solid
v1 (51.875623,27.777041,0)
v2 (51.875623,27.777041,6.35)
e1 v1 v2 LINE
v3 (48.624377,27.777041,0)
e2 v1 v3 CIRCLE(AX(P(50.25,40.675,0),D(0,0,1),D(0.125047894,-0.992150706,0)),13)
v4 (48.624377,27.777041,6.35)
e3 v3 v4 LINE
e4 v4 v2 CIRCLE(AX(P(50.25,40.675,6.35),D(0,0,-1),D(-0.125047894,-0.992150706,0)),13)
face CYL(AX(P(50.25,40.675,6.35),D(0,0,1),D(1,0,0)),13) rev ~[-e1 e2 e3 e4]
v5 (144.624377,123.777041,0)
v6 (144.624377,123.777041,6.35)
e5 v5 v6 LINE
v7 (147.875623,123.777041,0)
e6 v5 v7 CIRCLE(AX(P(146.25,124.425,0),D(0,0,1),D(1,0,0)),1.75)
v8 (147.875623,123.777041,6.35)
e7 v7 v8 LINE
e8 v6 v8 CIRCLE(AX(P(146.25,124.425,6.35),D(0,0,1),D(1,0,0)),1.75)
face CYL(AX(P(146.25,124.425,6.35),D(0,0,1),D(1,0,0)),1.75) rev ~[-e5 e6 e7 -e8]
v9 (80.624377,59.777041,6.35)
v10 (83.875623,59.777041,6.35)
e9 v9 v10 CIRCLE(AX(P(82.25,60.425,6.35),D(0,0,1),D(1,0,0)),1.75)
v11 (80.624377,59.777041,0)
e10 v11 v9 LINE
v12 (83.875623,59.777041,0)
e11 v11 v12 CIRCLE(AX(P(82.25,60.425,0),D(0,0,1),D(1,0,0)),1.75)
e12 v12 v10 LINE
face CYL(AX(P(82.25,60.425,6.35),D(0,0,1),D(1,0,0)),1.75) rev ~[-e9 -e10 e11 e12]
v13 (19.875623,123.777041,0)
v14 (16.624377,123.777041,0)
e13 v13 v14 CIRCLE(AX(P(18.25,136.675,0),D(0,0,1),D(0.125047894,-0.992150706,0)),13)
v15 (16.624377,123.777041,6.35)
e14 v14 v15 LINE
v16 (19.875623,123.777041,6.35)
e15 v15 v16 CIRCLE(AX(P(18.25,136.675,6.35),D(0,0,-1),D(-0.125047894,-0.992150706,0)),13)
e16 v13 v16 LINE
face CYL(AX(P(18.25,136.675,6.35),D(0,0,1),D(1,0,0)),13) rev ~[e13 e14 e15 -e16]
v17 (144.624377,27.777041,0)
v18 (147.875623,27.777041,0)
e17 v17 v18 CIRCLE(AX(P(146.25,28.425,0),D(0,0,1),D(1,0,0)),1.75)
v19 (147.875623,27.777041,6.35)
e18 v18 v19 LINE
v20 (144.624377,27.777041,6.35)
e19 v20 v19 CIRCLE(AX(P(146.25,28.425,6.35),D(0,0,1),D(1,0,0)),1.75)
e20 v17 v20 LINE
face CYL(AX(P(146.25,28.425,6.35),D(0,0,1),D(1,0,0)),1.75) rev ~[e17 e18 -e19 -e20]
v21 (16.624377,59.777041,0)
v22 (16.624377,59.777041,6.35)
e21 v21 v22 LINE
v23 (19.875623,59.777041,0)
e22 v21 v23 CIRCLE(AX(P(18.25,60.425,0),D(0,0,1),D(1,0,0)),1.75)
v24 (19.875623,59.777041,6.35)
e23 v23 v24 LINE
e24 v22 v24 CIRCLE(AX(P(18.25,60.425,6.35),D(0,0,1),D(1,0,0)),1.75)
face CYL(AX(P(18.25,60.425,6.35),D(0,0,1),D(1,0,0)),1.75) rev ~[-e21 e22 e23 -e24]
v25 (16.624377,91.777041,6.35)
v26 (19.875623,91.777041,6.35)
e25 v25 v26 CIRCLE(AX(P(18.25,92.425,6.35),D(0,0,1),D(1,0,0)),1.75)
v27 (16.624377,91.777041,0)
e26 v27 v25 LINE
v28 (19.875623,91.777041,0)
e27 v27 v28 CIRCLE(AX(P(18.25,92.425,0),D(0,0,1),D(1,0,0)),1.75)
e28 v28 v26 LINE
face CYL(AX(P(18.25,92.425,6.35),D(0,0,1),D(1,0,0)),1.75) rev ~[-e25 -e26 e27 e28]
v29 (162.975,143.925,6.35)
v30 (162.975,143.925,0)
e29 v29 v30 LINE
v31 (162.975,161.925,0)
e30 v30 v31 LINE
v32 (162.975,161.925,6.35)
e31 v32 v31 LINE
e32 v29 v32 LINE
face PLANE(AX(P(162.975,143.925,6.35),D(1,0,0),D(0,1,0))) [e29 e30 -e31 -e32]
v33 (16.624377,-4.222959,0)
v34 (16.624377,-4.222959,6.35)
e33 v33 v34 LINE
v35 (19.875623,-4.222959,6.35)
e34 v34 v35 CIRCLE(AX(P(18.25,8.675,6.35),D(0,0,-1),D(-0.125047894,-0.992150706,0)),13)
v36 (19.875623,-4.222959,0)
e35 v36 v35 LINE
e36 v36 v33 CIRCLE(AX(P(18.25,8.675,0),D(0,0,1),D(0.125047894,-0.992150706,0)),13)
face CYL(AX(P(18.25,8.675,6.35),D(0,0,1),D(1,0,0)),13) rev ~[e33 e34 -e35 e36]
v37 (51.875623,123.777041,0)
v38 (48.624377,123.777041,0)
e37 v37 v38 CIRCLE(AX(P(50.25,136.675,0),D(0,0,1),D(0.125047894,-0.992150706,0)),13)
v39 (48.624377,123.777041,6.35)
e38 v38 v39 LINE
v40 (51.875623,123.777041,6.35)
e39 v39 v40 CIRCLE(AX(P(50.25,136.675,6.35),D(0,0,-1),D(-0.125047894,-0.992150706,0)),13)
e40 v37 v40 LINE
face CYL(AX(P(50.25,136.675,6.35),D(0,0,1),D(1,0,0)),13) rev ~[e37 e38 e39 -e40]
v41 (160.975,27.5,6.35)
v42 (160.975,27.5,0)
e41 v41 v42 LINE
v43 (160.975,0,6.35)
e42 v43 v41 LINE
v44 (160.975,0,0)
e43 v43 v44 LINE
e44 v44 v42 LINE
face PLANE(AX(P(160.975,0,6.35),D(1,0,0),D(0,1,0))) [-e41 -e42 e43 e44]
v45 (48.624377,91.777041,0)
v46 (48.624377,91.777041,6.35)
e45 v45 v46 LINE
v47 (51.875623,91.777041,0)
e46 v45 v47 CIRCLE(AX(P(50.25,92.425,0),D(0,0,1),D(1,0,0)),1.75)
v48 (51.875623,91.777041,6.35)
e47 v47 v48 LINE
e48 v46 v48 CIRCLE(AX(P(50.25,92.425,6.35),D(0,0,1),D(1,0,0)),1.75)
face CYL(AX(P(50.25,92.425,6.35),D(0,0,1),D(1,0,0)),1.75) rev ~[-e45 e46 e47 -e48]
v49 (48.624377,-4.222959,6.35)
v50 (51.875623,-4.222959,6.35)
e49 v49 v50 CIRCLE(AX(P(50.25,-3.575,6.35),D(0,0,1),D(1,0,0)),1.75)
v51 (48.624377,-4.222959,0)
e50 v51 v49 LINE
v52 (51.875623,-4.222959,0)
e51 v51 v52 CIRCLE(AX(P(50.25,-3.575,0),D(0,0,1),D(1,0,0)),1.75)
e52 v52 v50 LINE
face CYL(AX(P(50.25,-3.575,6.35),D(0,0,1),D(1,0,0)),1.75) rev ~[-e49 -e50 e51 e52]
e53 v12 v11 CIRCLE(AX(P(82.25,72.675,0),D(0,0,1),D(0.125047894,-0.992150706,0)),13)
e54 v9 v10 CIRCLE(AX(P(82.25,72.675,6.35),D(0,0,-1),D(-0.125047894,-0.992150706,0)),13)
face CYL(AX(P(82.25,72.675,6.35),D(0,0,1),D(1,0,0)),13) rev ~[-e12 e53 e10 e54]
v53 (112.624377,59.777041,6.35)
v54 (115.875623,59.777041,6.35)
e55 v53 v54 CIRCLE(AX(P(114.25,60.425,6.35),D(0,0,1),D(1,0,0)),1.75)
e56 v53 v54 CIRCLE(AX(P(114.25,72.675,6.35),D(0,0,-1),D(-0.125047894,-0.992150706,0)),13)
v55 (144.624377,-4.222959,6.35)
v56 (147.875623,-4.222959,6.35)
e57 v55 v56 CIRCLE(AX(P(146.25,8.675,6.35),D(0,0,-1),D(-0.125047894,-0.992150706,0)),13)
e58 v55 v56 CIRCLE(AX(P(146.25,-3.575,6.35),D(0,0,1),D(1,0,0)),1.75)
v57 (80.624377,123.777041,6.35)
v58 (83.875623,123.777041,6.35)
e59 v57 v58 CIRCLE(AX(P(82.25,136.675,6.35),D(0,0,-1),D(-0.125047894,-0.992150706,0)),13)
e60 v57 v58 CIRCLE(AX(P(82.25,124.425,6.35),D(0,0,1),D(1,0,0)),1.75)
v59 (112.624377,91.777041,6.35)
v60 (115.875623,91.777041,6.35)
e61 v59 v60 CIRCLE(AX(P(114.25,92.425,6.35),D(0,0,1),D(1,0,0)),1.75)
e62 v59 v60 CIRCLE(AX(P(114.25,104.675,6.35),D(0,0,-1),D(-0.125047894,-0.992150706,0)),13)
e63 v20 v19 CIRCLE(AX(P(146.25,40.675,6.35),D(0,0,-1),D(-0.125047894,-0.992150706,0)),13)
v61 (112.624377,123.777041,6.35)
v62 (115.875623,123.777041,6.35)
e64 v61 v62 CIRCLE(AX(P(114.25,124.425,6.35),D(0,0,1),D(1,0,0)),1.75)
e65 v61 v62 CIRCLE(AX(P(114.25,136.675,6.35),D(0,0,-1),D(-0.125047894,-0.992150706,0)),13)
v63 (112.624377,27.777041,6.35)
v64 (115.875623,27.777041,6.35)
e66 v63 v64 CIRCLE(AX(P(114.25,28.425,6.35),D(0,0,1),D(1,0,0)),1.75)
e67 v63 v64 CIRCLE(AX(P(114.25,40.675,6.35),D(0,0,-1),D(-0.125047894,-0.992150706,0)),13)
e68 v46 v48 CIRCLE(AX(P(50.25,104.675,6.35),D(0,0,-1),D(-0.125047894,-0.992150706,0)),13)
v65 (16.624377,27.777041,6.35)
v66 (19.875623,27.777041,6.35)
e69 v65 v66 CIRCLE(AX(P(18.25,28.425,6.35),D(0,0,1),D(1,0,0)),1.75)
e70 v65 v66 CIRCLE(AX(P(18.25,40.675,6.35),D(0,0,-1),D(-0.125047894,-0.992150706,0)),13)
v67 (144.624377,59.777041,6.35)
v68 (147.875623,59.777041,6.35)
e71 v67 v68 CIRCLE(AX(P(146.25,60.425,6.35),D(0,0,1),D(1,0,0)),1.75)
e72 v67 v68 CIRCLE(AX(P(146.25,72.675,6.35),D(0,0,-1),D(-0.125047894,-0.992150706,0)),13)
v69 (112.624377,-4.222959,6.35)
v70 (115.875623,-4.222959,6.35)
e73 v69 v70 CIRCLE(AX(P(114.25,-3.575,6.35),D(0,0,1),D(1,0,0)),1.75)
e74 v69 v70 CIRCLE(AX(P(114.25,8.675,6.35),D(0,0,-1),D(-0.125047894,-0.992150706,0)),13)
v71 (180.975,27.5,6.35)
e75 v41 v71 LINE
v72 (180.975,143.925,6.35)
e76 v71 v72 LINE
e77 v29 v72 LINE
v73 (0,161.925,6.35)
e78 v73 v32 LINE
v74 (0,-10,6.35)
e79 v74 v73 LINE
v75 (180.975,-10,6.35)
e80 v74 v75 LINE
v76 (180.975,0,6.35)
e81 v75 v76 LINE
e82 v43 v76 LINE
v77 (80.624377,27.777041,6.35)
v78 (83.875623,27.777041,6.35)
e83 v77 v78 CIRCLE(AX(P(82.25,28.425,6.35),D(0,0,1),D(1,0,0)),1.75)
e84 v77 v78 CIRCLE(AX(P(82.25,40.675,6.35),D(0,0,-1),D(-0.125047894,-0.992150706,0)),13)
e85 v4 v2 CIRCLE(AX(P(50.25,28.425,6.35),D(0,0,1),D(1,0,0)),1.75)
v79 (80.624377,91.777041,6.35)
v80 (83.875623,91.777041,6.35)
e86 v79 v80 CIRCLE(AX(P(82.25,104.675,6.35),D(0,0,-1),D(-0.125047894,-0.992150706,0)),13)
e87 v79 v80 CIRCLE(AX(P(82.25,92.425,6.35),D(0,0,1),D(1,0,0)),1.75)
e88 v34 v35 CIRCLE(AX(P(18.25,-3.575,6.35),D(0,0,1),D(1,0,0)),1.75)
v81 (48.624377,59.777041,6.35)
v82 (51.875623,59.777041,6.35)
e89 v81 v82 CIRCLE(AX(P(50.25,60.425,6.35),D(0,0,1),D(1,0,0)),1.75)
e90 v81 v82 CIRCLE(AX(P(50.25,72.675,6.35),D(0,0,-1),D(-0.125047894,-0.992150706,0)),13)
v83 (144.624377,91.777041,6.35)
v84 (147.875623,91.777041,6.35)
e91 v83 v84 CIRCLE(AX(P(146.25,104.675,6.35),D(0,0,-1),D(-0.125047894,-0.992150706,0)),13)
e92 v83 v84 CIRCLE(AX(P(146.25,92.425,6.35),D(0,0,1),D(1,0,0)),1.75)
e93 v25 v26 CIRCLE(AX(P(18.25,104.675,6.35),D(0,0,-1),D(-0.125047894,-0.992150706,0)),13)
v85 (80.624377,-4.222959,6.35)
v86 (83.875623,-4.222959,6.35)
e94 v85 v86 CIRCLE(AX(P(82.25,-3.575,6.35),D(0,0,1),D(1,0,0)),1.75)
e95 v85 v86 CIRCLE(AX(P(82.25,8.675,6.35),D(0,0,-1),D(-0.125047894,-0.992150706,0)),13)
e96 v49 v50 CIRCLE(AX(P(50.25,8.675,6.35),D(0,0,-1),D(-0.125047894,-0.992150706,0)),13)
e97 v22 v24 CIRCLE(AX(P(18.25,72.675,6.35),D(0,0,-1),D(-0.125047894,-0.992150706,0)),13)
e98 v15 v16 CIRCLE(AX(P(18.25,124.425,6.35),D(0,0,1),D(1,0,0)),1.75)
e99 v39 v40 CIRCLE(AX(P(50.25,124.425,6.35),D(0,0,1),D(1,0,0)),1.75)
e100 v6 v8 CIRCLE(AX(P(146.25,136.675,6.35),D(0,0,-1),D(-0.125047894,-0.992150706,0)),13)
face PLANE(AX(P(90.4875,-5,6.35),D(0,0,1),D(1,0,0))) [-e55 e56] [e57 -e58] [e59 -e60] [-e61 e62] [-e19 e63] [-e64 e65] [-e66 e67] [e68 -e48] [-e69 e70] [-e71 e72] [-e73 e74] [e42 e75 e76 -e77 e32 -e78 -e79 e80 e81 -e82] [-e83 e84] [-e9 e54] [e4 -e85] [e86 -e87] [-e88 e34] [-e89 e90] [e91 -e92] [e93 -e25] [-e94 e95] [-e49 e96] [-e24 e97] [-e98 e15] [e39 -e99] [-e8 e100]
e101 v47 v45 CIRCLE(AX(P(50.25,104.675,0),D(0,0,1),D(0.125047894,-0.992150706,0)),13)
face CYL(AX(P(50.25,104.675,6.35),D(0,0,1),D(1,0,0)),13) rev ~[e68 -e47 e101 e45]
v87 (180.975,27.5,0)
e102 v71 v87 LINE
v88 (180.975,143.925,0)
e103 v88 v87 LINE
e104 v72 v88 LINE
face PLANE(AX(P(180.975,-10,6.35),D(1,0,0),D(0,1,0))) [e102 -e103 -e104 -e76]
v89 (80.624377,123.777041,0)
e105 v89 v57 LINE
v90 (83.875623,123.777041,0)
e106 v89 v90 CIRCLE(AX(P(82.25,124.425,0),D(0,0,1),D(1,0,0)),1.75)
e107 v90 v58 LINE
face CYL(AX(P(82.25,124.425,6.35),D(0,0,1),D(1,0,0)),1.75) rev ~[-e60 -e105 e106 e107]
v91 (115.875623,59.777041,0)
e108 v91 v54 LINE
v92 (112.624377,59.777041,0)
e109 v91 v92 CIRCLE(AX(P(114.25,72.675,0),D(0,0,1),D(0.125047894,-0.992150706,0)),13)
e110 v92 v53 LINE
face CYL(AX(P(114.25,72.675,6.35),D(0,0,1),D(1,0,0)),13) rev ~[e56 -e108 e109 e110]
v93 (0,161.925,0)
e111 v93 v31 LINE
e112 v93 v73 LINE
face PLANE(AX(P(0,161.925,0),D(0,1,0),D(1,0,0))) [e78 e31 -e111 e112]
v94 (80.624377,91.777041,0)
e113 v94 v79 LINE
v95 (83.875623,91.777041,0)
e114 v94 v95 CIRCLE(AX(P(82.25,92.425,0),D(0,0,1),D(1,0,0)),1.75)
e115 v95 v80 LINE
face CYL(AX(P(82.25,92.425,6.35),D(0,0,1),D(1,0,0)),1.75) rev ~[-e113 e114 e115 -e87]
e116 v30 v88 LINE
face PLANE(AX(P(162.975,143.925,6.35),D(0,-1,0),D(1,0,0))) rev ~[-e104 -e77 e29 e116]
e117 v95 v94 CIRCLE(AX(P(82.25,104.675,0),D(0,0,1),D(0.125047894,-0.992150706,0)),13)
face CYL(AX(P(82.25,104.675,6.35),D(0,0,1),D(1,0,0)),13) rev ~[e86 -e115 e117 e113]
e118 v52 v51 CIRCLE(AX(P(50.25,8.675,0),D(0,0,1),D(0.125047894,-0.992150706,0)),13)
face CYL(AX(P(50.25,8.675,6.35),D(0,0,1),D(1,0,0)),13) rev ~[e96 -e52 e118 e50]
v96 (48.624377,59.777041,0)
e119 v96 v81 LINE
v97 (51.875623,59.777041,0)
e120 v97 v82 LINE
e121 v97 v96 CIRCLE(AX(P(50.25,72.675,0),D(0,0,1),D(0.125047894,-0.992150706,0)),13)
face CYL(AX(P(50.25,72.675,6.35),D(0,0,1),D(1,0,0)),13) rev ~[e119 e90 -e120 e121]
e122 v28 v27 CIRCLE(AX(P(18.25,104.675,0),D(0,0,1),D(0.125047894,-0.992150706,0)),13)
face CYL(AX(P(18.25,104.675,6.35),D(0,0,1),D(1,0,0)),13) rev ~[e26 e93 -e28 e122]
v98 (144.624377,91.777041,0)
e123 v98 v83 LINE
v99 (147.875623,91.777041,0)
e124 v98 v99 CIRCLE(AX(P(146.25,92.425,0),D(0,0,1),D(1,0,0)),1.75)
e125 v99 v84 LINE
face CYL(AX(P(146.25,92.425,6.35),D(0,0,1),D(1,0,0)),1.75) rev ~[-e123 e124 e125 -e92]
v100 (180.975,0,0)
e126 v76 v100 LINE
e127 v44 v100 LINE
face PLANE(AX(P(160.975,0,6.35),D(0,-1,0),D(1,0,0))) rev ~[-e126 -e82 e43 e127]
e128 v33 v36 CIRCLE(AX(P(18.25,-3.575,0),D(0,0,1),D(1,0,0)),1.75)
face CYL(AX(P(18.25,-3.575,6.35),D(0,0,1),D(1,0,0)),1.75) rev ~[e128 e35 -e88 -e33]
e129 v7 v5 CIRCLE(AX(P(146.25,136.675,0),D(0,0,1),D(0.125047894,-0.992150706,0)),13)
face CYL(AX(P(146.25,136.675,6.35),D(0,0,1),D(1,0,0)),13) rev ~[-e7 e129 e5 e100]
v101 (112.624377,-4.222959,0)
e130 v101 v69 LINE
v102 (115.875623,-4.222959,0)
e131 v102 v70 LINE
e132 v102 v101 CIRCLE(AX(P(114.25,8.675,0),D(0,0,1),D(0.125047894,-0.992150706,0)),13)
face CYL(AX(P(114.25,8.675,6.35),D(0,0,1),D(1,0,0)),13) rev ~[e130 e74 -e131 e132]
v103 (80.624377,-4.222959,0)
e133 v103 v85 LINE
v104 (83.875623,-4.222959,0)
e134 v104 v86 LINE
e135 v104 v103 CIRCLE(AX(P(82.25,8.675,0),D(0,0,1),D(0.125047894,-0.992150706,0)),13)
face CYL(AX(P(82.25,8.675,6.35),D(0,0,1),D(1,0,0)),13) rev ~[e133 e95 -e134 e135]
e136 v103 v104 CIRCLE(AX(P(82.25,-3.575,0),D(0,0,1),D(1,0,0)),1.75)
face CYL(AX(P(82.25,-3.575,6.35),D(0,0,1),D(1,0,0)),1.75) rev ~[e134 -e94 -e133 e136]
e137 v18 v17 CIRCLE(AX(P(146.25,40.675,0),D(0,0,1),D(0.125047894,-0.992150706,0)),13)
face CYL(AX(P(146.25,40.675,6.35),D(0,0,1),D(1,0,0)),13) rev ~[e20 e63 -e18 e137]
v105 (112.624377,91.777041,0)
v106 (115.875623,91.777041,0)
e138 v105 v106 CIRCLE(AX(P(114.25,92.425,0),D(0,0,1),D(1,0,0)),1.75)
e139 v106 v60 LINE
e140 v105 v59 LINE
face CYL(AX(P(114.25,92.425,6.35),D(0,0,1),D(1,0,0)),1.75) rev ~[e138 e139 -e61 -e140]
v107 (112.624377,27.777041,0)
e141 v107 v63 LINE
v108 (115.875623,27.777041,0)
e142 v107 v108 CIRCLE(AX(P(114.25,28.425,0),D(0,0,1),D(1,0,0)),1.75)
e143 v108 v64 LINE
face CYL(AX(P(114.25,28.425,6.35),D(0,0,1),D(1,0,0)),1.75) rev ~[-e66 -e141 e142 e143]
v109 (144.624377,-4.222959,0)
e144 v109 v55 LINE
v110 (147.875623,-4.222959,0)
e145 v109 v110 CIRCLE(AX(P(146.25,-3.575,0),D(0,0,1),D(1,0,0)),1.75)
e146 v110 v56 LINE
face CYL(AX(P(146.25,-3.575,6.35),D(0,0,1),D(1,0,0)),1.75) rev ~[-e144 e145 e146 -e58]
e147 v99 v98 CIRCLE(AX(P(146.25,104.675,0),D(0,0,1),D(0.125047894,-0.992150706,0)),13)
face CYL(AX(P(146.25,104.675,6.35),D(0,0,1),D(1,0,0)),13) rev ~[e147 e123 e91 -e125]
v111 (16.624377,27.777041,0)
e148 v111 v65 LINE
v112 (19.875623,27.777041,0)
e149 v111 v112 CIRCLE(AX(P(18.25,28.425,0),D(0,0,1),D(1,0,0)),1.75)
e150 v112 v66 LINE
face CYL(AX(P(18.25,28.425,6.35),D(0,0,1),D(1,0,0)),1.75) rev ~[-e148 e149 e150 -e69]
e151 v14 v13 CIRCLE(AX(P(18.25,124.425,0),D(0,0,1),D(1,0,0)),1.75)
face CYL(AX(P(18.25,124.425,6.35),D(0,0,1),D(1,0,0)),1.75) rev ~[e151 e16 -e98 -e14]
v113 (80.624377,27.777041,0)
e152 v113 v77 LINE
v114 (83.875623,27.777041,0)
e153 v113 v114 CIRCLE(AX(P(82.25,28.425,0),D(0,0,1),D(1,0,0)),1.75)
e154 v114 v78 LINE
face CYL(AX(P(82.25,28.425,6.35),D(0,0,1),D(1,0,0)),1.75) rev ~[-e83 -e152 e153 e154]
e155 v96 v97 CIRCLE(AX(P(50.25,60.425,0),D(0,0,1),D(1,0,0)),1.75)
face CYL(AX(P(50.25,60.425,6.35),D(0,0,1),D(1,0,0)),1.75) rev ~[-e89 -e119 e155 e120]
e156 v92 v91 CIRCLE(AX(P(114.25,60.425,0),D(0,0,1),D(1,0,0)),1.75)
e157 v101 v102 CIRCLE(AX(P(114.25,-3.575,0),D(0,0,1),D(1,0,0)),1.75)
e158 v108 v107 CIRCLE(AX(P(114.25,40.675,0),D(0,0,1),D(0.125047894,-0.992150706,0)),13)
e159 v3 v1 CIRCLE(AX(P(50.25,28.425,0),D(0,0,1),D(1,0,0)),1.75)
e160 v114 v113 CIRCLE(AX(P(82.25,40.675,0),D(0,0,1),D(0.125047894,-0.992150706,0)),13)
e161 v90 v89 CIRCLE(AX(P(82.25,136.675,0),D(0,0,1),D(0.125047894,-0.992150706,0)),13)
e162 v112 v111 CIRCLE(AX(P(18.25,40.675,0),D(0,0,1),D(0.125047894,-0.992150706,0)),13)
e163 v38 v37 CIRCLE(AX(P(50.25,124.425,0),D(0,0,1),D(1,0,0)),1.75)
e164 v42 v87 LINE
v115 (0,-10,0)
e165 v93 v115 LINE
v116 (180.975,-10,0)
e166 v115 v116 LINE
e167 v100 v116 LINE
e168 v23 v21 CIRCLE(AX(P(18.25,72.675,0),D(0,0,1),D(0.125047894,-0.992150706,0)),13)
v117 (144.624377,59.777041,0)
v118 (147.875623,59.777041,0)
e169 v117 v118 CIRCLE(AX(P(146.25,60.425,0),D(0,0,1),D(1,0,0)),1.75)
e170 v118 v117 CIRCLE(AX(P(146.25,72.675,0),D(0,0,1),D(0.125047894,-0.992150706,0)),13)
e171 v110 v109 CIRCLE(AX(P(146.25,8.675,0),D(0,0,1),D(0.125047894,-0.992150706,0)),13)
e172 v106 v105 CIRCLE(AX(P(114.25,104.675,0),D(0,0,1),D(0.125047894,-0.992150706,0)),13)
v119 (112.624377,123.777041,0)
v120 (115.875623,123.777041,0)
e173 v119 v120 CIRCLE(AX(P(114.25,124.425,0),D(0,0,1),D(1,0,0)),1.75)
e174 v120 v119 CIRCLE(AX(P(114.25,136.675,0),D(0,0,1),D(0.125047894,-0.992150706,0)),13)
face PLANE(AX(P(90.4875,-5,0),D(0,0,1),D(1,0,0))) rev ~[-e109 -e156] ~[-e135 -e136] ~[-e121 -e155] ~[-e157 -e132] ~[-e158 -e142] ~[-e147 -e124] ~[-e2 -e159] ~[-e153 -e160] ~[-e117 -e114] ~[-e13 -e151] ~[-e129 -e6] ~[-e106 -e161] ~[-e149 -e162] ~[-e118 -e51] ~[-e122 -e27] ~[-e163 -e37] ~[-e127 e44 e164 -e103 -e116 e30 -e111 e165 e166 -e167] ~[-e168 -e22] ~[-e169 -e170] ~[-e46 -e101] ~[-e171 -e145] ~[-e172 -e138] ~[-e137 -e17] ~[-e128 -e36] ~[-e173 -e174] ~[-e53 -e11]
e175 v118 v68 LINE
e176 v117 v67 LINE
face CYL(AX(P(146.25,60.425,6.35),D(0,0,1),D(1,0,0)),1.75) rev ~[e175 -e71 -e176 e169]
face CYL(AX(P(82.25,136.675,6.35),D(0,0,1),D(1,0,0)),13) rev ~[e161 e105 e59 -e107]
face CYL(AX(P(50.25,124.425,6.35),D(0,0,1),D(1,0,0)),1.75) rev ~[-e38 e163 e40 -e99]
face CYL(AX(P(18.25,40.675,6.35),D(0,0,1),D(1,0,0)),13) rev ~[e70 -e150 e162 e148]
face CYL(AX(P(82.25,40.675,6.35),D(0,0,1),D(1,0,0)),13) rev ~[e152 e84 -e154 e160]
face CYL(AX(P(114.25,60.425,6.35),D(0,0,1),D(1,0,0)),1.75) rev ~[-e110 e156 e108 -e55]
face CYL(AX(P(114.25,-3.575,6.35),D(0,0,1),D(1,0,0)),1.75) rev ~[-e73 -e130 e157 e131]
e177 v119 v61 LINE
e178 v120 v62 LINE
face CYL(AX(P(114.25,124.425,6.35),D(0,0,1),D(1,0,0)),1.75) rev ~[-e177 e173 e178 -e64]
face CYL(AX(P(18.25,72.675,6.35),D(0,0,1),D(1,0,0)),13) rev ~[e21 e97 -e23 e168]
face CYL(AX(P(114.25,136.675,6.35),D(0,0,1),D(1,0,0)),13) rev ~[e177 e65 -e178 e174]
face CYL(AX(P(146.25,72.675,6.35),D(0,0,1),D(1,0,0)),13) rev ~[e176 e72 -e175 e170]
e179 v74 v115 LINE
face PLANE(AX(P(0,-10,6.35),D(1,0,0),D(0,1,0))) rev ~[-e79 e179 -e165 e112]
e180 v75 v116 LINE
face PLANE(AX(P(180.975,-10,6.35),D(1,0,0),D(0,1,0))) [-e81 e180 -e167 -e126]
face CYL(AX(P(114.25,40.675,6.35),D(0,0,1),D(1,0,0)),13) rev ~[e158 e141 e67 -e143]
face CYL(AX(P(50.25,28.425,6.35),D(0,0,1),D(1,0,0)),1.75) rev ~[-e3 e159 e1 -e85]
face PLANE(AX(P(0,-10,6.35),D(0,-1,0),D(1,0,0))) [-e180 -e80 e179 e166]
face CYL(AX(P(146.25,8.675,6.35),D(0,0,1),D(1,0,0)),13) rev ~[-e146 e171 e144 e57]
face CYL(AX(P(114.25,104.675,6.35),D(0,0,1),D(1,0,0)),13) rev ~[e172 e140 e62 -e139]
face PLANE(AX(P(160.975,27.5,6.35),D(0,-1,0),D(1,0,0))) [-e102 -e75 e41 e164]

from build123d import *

# Parameters (mm, degrees)
SKETCH2_W           = 180.975
SKETCH2_H           = 161.925
BOSS_EXTRUDE1_DEPTH = 6.35
SKETCH6_W           = 180.975
SKETCH6_H           = 10
BOSS_EXTRUDE2_DEPTH = 6.35
SKETCH3_R           = 13
CUT_EXTRUDE1_DEPTH  = 243.923812645
SKETCH4_R           = 1.75
CUT_EXTRUDE9_DEPTH  = 243.923812645
SKETCH7_W           = 20
SKETCH7_H           = 27.5
SKETCH7_W_2         = 18
SKETCH7_H_2         = 18
CUT_EXTRUDE10_DEPTH = 243.923812645


with BuildPart() as part:
    # Sketch2 → Boss-Extrude1 (new body)
    with BuildSketch(Plane.XY):
        with Locations((90.4875, 80.9625)):
            Rectangle(SKETCH2_W, SKETCH2_H)
    extrude(amount=BOSS_EXTRUDE1_DEPTH)

    # Sketch6 → Boss-Extrude2 (add)
    with BuildSketch(Plane.XY.offset(6.35)):
        with Locations((90.4875, -5)):
            Rectangle(SKETCH6_W, SKETCH6_H)
    extrude(amount=-BOSS_EXTRUDE2_DEPTH)

    # Sketch3 → Cut-Extrude1 (cut, through all)
    with BuildSketch(Plane.XY.offset(6.35)):
        with Locations((18.25, 8.675)):
            Circle(SKETCH3_R)
        with Locations((50.25, 8.675)):
            Circle(SKETCH3_R)
        with Locations((82.25, 8.675)):
            Circle(SKETCH3_R)
        with Locations((114.25, 8.675)):
            Circle(SKETCH3_R)
        with Locations((146.25, 8.675)):
            Circle(SKETCH3_R)
        with Locations((50.25, 40.675)):
            Circle(SKETCH3_R)
        with Locations((82.25, 40.675)):
            Circle(SKETCH3_R)
        with Locations((114.25, 40.675)):
            Circle(SKETCH3_R)
        with Locations((146.25, 40.675)):
            Circle(SKETCH3_R)
        with Locations((50.25, 72.675)):
            Circle(SKETCH3_R)
        with Locations((82.25, 72.675)):
            Circle(SKETCH3_R)
        with Locations((114.25, 72.675)):
            Circle(SKETCH3_R)
        with Locations((146.25, 72.675)):
            Circle(SKETCH3_R)
        with Locations((50.25, 104.675)):
            Circle(SKETCH3_R)
        with Locations((82.25, 104.675)):
            Circle(SKETCH3_R)
        with Locations((114.25, 104.675)):
            Circle(SKETCH3_R)
        with Locations((146.25, 104.675)):
            Circle(SKETCH3_R)
        with Locations((50.25, 136.675)):
            Circle(SKETCH3_R)
        with Locations((82.25, 136.675)):
            Circle(SKETCH3_R)
        with Locations((114.25, 136.675)):
            Circle(SKETCH3_R)
        with Locations((146.25, 136.675)):
            Circle(SKETCH3_R)
        with Locations((18.25, 40.675)):
            Circle(SKETCH3_R)
        with Locations((18.25, 72.675)):
            Circle(SKETCH3_R)
        with Locations((18.25, 104.675)):
            Circle(SKETCH3_R)
        with Locations((18.25, 136.675)):
            Circle(SKETCH3_R)
    extrude(amount=-CUT_EXTRUDE1_DEPTH, mode=Mode.SUBTRACT)

    # Sketch4 → Cut-Extrude9 (cut, through all)
    with BuildSketch(Plane.XY.offset(6.35)):
        with Locations((18.25, -3.575)):
            Circle(SKETCH4_R)
        with Locations((50.25, -3.575)):
            Circle(SKETCH4_R)
        with Locations((82.25, -3.575)):
            Circle(SKETCH4_R)
        with Locations((114.25, -3.575)):
            Circle(SKETCH4_R)
        with Locations((146.25, -3.575)):
            Circle(SKETCH4_R)
        with Locations((50.25, 28.425)):
            Circle(SKETCH4_R)
        with Locations((82.25, 28.425)):
            Circle(SKETCH4_R)
        with Locations((114.25, 28.425)):
            Circle(SKETCH4_R)
        with Locations((146.25, 28.425)):
            Circle(SKETCH4_R)
        with Locations((50.25, 60.425)):
            Circle(SKETCH4_R)
        with Locations((82.25, 60.425)):
            Circle(SKETCH4_R)
        with Locations((114.25, 60.425)):
            Circle(SKETCH4_R)
        with Locations((146.25, 60.425)):
            Circle(SKETCH4_R)
        with Locations((50.25, 92.425)):
            Circle(SKETCH4_R)
        with Locations((82.25, 92.425)):
            Circle(SKETCH4_R)
        with Locations((114.25, 92.425)):
            Circle(SKETCH4_R)
        with Locations((146.25, 92.425)):
            Circle(SKETCH4_R)
        with Locations((50.25, 124.425)):
            Circle(SKETCH4_R)
        with Locations((82.25, 124.425)):
            Circle(SKETCH4_R)
        with Locations((114.25, 124.425)):
            Circle(SKETCH4_R)
        with Locations((146.25, 124.425)):
            Circle(SKETCH4_R)
        with Locations((18.25, 28.425)):
            Circle(SKETCH4_R)
        with Locations((18.25, 60.425)):
            Circle(SKETCH4_R)
        with Locations((18.25, 92.425)):
            Circle(SKETCH4_R)
        with Locations((18.25, 124.425)):
            Circle(SKETCH4_R)
    extrude(amount=-CUT_EXTRUDE9_DEPTH, mode=Mode.SUBTRACT)

    # Sketch7 → Cut-Extrude10 (cut, through all)
    with BuildSketch(Plane.XY.offset(6.35)):
        with Locations((170.975, 13.75)):
            Rectangle(SKETCH7_W, SKETCH7_H)
        with Locations((171.975, 152.925)):
            Rectangle(SKETCH7_W_2, SKETCH7_H_2)
    extrude(amount=-CUT_EXTRUDE10_DEPTH, mode=Mode.SUBTRACT)


solid = part.part
